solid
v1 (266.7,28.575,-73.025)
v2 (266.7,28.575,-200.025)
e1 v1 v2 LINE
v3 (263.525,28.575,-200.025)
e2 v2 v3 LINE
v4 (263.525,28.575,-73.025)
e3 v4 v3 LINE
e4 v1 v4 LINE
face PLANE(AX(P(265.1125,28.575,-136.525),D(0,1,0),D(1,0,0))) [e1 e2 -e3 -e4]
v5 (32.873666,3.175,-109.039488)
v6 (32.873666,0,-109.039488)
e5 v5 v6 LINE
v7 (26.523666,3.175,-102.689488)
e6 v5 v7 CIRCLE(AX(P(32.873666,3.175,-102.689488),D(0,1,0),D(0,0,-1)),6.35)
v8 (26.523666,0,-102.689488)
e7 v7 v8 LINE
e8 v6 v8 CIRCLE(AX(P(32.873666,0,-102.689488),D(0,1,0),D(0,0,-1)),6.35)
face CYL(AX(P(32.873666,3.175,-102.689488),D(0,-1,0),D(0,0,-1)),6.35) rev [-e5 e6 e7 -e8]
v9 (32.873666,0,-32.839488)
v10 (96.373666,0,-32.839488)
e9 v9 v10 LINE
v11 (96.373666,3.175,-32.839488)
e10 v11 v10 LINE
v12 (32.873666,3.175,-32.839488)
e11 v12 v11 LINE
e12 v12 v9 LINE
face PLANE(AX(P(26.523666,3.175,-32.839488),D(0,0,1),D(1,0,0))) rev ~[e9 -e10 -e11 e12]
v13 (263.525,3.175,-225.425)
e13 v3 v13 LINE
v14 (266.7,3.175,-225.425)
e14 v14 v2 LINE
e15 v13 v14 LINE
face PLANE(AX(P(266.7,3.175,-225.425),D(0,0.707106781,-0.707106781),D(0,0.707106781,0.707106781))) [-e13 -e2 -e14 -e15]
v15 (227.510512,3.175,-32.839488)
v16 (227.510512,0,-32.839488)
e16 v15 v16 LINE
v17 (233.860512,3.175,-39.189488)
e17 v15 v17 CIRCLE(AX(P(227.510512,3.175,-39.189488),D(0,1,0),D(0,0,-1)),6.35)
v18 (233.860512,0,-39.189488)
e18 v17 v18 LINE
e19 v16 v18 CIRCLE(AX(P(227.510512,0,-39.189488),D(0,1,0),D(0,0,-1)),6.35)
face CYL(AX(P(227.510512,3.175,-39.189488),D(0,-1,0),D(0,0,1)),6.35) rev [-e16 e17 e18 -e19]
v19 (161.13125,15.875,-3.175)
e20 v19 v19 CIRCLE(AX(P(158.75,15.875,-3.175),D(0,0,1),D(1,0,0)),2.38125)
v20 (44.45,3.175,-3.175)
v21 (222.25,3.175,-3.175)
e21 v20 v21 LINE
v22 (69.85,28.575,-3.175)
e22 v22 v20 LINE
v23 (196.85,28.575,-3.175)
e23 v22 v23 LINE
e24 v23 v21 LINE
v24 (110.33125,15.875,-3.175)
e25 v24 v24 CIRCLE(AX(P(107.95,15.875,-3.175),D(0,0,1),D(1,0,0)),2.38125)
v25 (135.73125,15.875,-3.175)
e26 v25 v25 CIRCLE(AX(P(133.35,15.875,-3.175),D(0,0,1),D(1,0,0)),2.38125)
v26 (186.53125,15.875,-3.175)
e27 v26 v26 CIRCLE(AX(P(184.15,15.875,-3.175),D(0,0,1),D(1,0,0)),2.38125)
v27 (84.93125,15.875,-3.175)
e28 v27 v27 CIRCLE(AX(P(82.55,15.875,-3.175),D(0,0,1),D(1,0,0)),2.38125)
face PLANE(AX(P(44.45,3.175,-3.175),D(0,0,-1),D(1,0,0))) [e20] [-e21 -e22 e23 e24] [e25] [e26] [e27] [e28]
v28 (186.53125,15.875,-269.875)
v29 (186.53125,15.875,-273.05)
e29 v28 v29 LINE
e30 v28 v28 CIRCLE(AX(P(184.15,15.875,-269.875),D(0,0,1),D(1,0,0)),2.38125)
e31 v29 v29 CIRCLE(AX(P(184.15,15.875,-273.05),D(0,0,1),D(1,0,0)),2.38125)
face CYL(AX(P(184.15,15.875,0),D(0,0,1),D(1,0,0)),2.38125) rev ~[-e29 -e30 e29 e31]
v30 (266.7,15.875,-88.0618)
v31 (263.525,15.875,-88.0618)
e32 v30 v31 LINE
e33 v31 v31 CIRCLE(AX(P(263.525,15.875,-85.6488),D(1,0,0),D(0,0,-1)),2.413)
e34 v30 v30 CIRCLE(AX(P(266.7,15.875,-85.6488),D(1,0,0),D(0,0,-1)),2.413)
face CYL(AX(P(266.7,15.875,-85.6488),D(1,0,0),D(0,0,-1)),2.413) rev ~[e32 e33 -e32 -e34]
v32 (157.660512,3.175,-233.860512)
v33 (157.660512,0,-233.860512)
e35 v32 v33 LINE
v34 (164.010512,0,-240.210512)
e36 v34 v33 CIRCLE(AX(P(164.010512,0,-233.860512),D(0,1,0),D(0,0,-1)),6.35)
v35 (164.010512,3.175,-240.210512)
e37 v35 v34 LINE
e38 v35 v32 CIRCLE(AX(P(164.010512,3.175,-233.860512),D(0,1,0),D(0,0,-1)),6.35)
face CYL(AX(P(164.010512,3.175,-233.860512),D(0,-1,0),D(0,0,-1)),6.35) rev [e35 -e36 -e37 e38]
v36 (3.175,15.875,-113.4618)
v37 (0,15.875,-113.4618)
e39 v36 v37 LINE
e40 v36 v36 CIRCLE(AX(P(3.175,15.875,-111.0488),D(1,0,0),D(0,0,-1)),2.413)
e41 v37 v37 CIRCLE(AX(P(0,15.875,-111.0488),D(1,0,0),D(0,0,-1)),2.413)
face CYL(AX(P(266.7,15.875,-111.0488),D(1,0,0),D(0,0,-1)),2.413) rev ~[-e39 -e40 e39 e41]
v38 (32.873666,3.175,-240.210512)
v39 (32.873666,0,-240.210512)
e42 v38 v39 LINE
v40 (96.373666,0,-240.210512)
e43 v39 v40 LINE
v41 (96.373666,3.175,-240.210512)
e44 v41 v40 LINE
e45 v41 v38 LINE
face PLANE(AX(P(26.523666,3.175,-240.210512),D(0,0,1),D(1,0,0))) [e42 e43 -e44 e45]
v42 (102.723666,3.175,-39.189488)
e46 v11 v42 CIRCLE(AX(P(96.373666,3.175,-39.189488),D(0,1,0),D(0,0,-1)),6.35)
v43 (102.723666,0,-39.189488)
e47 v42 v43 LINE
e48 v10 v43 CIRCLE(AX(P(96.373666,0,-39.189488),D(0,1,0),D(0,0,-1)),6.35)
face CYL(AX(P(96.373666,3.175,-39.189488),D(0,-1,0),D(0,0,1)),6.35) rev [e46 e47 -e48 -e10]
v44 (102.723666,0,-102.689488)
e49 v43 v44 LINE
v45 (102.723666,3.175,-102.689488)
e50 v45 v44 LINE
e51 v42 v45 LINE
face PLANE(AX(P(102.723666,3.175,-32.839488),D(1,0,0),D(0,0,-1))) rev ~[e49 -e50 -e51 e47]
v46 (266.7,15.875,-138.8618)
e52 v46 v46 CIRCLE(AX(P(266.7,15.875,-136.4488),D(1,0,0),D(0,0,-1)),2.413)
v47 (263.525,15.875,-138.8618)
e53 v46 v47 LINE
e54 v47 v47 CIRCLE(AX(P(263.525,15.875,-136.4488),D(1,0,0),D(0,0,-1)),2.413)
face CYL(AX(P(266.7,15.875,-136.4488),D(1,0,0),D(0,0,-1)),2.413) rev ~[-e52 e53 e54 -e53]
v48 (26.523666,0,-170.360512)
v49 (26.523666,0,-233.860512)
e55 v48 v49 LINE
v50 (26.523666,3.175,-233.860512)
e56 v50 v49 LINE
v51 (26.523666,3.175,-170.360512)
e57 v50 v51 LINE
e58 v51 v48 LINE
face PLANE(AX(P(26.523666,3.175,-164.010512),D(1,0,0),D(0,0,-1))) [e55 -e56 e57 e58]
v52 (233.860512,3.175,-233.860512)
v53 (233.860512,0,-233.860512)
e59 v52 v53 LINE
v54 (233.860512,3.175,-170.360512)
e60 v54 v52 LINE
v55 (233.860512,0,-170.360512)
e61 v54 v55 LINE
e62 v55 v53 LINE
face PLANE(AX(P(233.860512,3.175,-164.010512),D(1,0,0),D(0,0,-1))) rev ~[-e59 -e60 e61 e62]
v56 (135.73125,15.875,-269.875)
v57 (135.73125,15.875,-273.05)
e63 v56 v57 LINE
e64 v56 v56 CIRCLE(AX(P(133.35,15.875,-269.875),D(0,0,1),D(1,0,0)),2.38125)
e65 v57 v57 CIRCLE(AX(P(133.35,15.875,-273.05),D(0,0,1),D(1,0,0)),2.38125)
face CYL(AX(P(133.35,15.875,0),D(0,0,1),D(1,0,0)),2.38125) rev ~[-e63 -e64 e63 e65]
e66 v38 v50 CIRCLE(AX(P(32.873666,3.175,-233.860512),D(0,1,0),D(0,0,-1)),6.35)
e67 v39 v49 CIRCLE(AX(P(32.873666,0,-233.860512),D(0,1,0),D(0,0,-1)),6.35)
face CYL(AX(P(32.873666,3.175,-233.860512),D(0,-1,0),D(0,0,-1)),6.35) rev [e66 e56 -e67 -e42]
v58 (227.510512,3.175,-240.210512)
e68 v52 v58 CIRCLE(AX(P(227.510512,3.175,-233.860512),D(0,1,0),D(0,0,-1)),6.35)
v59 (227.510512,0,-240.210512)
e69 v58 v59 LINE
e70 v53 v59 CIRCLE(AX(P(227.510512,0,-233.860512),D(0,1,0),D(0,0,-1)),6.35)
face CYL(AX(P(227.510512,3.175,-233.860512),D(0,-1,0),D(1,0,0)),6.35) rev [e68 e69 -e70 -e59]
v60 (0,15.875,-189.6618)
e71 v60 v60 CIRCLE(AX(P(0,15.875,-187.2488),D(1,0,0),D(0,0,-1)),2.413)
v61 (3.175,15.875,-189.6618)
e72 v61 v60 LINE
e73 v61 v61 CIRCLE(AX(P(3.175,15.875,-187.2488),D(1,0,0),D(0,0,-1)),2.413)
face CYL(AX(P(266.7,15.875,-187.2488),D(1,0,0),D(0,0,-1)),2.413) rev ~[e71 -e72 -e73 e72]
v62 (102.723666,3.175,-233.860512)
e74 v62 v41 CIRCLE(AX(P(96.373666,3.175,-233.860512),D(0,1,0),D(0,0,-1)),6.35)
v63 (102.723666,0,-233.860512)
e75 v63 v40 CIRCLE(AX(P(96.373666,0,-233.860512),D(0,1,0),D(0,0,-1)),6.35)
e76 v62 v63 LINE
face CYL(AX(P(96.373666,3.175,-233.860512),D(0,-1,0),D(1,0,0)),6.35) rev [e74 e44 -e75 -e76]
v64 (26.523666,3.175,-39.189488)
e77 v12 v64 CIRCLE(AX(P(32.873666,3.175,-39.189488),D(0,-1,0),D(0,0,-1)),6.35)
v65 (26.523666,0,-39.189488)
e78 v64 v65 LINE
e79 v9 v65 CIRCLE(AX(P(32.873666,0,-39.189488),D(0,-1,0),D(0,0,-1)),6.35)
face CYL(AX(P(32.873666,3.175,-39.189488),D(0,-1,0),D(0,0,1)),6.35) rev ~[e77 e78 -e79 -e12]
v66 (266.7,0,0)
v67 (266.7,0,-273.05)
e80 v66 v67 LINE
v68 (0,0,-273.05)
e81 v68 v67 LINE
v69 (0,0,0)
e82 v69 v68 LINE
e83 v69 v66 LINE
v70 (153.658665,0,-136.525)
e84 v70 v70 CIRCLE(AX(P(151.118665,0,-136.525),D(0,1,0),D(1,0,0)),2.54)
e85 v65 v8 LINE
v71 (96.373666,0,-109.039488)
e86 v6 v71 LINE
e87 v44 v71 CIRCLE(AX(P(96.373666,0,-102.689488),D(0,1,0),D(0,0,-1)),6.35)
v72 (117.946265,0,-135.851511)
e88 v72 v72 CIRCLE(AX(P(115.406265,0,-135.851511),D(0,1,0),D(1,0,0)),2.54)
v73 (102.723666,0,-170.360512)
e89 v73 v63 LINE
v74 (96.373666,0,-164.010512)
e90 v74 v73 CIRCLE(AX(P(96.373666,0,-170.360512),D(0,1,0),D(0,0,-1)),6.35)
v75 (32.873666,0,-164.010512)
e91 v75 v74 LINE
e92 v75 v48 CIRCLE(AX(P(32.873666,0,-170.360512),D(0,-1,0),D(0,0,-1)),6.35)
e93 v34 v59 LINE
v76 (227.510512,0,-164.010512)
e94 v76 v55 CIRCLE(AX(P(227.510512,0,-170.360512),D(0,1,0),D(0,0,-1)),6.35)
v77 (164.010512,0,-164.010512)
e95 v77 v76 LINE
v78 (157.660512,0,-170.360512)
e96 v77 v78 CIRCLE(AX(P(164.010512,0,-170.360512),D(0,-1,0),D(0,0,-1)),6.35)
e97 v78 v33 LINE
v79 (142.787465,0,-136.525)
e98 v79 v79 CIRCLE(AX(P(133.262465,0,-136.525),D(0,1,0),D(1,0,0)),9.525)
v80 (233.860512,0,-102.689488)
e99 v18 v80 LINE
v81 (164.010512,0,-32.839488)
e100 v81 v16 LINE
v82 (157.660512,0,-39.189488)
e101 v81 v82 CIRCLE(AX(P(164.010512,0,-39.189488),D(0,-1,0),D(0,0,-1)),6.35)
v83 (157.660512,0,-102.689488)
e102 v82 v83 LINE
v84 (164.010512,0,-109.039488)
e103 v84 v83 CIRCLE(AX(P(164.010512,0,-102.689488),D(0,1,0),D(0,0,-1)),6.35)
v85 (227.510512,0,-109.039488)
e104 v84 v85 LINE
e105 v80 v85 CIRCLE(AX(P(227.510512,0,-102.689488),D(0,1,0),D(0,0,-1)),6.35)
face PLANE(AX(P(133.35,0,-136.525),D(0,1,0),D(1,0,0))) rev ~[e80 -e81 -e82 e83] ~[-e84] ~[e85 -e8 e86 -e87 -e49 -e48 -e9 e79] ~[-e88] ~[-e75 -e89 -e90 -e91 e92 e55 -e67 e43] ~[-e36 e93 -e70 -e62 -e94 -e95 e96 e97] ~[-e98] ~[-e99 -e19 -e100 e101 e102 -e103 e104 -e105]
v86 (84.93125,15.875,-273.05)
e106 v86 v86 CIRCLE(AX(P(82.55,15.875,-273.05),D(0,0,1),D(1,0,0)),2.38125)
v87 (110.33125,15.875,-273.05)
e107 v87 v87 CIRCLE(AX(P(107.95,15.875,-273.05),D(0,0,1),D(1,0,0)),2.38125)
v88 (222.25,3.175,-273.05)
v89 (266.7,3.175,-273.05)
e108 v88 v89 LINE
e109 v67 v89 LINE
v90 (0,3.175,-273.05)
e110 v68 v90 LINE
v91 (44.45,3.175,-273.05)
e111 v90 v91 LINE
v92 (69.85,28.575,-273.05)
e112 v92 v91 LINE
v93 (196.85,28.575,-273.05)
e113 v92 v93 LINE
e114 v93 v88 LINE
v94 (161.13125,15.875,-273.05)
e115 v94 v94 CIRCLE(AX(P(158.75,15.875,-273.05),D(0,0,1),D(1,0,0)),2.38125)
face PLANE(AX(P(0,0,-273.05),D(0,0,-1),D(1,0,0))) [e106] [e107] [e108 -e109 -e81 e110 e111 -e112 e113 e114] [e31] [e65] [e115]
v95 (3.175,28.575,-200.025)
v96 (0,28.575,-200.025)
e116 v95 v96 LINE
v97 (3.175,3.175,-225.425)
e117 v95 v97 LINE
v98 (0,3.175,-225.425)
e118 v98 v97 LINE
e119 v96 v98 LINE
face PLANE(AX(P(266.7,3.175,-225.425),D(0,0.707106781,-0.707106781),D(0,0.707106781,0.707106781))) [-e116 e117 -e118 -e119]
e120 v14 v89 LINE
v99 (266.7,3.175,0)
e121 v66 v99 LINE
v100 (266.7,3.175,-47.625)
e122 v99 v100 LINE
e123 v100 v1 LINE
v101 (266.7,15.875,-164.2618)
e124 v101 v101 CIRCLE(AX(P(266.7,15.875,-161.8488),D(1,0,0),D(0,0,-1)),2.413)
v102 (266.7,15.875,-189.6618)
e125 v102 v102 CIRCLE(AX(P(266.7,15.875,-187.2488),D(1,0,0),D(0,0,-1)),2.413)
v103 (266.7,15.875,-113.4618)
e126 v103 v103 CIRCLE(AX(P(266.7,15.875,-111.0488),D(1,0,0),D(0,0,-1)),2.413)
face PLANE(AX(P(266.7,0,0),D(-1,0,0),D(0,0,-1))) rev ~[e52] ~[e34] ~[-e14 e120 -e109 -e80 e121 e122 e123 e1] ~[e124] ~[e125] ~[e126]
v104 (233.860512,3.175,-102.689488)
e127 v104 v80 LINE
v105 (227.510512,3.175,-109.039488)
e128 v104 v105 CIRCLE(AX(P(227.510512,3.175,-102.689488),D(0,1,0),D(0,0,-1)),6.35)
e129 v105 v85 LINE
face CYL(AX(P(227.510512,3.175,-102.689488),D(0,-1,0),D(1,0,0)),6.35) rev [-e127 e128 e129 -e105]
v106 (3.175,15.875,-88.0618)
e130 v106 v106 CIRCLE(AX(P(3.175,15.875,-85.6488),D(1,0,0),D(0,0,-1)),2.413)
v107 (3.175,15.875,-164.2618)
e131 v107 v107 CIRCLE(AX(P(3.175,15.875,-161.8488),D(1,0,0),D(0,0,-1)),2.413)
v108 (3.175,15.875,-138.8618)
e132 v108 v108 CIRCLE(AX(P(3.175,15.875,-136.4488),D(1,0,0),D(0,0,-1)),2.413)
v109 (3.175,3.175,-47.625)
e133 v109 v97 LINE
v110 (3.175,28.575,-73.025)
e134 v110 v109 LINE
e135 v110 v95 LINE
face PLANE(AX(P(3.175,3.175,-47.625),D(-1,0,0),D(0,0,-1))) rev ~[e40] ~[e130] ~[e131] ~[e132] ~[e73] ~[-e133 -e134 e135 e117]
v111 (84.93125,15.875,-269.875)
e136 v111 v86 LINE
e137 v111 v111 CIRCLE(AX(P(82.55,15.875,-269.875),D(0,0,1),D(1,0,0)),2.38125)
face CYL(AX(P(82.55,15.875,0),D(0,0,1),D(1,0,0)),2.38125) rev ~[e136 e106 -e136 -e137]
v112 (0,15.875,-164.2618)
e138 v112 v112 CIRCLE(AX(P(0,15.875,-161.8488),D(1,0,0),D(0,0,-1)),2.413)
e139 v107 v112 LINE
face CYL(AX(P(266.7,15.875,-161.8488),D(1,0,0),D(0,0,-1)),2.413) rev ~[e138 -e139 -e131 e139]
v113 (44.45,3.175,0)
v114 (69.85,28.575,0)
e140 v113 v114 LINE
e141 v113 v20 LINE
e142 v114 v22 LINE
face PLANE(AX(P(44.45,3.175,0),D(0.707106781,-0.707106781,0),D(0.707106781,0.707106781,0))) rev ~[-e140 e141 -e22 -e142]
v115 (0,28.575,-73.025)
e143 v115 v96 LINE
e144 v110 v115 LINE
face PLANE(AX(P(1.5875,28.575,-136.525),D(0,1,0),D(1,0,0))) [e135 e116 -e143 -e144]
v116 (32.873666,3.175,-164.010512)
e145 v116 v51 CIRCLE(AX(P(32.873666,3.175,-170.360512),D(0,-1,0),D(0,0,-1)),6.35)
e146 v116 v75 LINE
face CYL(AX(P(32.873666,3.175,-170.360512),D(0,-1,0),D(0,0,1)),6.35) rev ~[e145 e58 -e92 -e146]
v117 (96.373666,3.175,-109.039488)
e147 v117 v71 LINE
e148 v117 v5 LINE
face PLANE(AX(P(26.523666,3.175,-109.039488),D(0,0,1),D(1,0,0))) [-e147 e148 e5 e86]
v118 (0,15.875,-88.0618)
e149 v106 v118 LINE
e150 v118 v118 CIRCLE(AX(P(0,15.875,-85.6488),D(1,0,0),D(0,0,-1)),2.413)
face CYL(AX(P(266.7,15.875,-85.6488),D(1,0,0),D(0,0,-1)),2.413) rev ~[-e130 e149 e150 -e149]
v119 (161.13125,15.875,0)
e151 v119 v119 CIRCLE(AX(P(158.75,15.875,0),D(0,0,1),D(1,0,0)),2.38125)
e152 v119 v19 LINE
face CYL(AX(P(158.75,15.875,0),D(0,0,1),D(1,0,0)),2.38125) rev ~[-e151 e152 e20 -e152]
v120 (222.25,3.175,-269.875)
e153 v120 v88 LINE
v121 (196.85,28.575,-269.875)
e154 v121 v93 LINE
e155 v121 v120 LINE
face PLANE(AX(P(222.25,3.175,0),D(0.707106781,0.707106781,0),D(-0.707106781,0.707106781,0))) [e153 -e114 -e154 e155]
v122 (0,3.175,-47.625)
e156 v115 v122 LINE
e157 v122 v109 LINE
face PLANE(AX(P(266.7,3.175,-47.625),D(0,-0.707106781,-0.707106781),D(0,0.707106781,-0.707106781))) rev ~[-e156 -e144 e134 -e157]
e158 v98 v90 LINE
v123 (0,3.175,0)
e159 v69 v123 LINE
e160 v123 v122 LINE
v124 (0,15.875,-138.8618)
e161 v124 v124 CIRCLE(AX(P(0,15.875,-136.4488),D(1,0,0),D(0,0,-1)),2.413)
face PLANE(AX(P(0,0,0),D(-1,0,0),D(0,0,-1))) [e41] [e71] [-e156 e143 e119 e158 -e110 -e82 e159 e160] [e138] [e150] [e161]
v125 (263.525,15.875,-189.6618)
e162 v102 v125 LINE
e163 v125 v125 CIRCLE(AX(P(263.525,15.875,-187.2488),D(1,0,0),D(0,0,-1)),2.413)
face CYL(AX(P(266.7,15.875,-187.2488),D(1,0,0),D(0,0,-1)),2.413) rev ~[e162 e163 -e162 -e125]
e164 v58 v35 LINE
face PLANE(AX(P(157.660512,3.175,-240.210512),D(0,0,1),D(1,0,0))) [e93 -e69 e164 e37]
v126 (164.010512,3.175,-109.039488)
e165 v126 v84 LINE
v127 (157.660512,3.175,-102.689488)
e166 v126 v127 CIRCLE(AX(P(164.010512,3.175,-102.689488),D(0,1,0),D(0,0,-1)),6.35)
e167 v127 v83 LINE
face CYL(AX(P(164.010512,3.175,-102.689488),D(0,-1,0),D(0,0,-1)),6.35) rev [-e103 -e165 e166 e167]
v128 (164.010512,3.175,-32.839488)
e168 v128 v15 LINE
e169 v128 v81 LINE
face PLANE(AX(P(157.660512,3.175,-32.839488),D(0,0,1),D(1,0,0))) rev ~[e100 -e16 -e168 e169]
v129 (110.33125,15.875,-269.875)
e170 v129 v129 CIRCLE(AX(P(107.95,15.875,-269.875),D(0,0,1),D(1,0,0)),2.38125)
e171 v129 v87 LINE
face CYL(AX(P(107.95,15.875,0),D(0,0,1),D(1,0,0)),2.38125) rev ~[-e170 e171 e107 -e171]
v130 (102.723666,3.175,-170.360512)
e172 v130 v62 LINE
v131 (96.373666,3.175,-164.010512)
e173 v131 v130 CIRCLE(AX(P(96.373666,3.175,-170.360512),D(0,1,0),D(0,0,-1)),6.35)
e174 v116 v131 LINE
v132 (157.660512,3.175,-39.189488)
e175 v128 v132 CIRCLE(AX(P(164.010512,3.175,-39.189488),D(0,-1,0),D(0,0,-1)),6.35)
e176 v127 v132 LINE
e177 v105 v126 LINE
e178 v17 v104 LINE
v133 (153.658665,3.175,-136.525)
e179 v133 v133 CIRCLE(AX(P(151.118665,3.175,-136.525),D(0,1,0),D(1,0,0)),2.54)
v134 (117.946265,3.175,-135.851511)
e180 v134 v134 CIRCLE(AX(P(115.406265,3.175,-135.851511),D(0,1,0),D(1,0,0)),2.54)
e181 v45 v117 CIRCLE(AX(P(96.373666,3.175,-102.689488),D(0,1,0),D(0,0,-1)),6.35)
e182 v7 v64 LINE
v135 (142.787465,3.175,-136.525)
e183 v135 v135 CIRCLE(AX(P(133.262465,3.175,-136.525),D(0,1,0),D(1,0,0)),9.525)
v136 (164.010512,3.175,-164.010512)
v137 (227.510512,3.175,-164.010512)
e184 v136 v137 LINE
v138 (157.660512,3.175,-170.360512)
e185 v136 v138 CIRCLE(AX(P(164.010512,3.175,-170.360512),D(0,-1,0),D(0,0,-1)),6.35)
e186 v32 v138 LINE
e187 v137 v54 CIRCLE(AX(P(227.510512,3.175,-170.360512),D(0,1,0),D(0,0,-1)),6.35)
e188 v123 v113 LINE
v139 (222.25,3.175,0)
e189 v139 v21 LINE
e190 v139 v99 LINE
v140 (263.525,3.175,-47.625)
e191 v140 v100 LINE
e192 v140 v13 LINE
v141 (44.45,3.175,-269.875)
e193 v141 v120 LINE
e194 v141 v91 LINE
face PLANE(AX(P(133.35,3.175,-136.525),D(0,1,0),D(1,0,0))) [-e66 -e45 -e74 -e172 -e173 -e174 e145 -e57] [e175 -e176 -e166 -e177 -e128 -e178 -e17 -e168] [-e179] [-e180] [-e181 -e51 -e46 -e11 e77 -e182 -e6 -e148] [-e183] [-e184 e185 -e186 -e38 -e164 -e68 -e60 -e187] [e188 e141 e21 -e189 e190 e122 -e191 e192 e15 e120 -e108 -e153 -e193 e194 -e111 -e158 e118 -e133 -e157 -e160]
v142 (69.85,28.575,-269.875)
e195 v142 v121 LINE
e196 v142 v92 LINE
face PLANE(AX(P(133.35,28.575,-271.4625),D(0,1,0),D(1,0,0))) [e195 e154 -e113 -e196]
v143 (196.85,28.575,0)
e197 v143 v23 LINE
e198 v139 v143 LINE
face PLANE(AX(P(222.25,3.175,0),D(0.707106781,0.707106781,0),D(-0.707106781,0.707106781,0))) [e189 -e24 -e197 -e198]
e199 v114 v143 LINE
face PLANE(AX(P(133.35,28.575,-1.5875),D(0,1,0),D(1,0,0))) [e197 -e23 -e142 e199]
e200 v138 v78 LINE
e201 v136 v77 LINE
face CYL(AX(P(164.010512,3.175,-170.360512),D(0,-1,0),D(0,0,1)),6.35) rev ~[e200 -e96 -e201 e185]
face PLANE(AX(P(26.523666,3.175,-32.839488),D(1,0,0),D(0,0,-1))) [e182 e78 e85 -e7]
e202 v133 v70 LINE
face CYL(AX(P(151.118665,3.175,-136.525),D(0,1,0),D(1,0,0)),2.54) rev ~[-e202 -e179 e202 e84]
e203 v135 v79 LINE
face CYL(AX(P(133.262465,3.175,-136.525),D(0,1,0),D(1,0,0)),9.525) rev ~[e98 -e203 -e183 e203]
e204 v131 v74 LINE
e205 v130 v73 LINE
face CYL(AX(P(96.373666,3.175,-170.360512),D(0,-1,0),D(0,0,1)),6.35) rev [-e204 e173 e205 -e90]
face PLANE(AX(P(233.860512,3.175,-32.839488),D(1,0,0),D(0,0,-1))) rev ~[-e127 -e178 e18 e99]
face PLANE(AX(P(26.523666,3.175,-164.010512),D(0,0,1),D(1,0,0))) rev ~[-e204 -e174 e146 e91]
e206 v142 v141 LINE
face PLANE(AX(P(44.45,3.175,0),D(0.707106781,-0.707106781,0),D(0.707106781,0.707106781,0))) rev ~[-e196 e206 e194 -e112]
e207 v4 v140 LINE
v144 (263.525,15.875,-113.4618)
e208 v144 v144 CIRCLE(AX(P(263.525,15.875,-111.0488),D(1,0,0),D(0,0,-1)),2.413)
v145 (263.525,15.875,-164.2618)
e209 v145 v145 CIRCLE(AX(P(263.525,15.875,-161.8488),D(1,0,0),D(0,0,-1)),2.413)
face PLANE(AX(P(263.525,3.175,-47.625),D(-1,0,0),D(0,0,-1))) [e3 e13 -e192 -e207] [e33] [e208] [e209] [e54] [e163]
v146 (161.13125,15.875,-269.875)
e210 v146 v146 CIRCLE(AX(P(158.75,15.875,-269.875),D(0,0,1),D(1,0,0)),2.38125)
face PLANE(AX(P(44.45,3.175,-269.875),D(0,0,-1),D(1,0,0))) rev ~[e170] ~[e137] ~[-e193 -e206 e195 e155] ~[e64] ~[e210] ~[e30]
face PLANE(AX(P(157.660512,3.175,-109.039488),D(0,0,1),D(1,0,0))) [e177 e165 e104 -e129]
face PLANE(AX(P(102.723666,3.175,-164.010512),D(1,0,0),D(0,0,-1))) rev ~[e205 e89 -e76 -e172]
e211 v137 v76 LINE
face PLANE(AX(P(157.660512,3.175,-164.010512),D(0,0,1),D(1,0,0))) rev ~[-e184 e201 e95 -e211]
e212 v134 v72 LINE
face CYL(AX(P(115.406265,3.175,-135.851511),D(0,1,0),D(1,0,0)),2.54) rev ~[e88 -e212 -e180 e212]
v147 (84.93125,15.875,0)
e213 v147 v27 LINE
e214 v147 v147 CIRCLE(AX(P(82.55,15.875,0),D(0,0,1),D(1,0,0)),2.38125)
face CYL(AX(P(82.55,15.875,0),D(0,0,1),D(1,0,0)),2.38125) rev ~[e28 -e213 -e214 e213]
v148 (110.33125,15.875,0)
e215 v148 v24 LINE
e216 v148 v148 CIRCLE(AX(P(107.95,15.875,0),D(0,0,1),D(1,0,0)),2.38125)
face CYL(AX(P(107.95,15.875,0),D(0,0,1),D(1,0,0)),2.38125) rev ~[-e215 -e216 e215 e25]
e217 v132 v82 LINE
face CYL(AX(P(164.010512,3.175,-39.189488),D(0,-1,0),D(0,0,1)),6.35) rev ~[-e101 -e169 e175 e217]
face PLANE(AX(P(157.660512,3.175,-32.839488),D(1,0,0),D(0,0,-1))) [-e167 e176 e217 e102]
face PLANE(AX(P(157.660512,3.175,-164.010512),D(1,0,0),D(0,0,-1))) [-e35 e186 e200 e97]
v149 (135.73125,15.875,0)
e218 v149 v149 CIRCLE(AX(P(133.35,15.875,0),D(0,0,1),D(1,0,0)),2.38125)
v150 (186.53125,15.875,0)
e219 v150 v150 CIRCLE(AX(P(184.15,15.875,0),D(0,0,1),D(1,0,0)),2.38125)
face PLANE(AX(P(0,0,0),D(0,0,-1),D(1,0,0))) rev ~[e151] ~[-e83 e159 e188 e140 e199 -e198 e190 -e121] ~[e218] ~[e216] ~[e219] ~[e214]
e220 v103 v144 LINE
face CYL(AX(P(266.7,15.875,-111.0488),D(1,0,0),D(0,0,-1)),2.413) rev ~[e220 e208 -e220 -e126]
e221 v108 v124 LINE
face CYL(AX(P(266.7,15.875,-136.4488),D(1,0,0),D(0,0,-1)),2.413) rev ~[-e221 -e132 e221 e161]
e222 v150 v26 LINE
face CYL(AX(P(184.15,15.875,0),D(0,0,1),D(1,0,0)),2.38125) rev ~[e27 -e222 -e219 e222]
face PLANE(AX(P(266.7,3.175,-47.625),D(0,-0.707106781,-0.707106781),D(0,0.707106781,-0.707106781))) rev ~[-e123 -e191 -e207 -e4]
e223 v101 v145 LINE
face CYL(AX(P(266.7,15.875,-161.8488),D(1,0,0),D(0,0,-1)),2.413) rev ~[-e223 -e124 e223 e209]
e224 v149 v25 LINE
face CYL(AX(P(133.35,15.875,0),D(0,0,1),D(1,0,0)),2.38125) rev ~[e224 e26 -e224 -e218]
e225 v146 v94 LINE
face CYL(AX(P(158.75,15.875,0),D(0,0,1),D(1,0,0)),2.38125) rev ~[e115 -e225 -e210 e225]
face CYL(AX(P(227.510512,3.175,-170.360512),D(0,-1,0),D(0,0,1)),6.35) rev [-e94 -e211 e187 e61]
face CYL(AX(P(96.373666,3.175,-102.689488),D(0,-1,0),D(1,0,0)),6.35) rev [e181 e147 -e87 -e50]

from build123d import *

# Parameters (mm, degrees)
SKETCH2_W           = 266.7
SKETCH2_H           = 273.05
BOSS_EXTRUDE1_DEPTH = 3.175
SKETCH3_R           = 9.525
CUT_EXTRUDE1_DEPTH  = 4.175
SKETCH4_W           = 76.2
SKETCH4_H           = 76.2
CUT_EXTRUDE2_DEPTH  = 4.175
FILLET2_R           = 6.35
SKETCH5_W           = 177.8
SKETCH5_H           = 3.175
SKETCH5_W_2         = 3.175
SKETCH5_H_2         = 177.8
BOSS_EXTRUDE2_DEPTH = 25.4
CUT_EXTRUDE3_DEPTH  = 267.7
CUT_EXTRUDE4_DEPTH  = 274.05
SKETCH8_R           = 2.54
CUT_EXTRUDE5_DEPTH  = 4.175
SKETCH10_R          = 2.38125
CUT_EXTRUDE6_DEPTH  = 274.05
SKETCH11_R          = 2.413
CUT_EXTRUDE7_DEPTH  = 267.7


with BuildPart() as part:
    # Sketch2 → Boss-Extrude1 (new body)
    with BuildSketch(Plane(origin=(0, 0, 0), x_dir=(1, 0, 0), z_dir=(0, 1, 0))):
        with Locations((133.35, 136.525)):
            Rectangle(SKETCH2_W, SKETCH2_H)
    extrude(amount=BOSS_EXTRUDE1_DEPTH)

    # Sketch3 → Cut-Extrude1 (cut, through all)
    with BuildSketch(Plane(origin=(0, 3.175, 0), x_dir=(1, 0, 0), z_dir=(0, 1, 0))):
        with Locations((133.262465238, 136.525)):
            Circle(SKETCH3_R)
    extrude(amount=-CUT_EXTRUDE1_DEPTH, mode=Mode.SUBTRACT)

    # Sketch4 → Cut-Extrude2 (cut, through all)
    with BuildSketch(Plane(origin=(0, 3.175, 0), x_dir=(1, 0, 0), z_dir=(0, 1, 0))):
        with Locations((64.623665915, 202.110512242)):
            Rectangle(SKETCH4_W, SKETCH4_H)
        with Locations((195.760512242, 202.110512242)):
            Rectangle(SKETCH4_W, SKETCH4_H)
        with Locations((64.623665915, 70.939487758)):
            Rectangle(SKETCH4_W, SKETCH4_H)
        with Locations((195.760512242, 70.939487758)):
            Rectangle(SKETCH4_W, SKETCH4_H)
    extrude(amount=-CUT_EXTRUDE2_DEPTH, mode=Mode.SUBTRACT)

    # Fillet2
    fillet2_edges = [part.edges().sort_by_distance(p)[0] for p in [
        (26.523665915, 1.5875, -164.010512242),
        (26.523665915, 1.5875, -240.210512242),
        (102.723665915, 1.5875, -240.210512242),
        (102.723665915, 1.5875, -164.010512242),
        (157.660512242, 1.5875, -164.010512242),
        (157.660512242, 1.5875, -240.210512242),
        (233.860512242, 1.5875, -240.210512242),
        (233.860512242, 1.5875, -164.010512242),
        (26.523665915, 1.5875, -32.839487758),
        (26.523665915, 1.5875, -109.039487758),
        (102.723665915, 1.5875, -109.039487758),
        (102.723665915, 1.5875, -32.839487758),
        (157.660512242, 1.5875, -32.839487758),
        (157.660512242, 1.5875, -109.039487758),
        (233.860512242, 1.5875, -109.039487758),
        (233.860512242, 1.5875, -32.839487758),
    ]]
    fillet(fillet2_edges, radius=FILLET2_R)

    # Sketch5 → Boss-Extrude2 (add)
    with BuildSketch(Plane(origin=(0, 3.175, 0), x_dir=(1, 0, 0), z_dir=(0, 1, 0))):
        with Locations((133.35, 271.4625)):
            Rectangle(SKETCH5_W, SKETCH5_H)
        with Locations((133.35, 1.5875)):
            Rectangle(SKETCH5_W, SKETCH5_H)
        with Locations((265.1125, 136.525)):
            Rectangle(SKETCH5_W_2, SKETCH5_H_2)
        with Locations((1.5875, 136.525)):
            Rectangle(SKETCH5_W_2, SKETCH5_H_2)
    extrude(amount=BOSS_EXTRUDE2_DEPTH)

    # Sketch6 → Cut-Extrude3 (cut, through all)
    with BuildSketch(Plane(origin=(266.7, 0, 0), x_dir=(0, 0, -1), z_dir=(1, 0, 0))):
        Polygon((47.625, 3.175), (73.025, 28.575), (47.625, 28.575), align=None)
        Polygon((225.425, 3.175), (200.025, 28.575), (225.425, 28.575), align=None)
    extrude(amount=-CUT_EXTRUDE3_DEPTH, mode=Mode.SUBTRACT)

    # Sketch7 → Cut-Extrude4 (cut, through all)
    with BuildSketch(Plane.XY):
        Polygon((44.45, 3.175), (69.85, 28.575), (44.45, 28.575), align=None)
        Polygon((222.25, 3.175), (196.85, 28.575), (222.25, 28.575), align=None)
    extrude(amount=-CUT_EXTRUDE4_DEPTH, mode=Mode.SUBTRACT)

    # Sketch8 → Cut-Extrude5 (cut, through all)
    with BuildSketch(Plane(origin=(0, 3.175, 0), x_dir=(1, 0, 0), z_dir=(0, 1, 0))):
        with Locations((151.118665238, 136.525)):
            Circle(SKETCH8_R)
        with Locations((115.406265238, 135.851510726)):
            Circle(SKETCH8_R)
    extrude(amount=-CUT_EXTRUDE5_DEPTH, mode=Mode.SUBTRACT)

    # Sketch10 → Cut-Extrude6 (cut, through all)
    with BuildSketch(Plane.XY):
        with Locations((133.35, 15.875)):
            Circle(SKETCH10_R)
        with Locations((158.75, 15.875)):
            Circle(SKETCH10_R)
        with Locations((107.95, 15.875)):
            Circle(SKETCH10_R)
        with Locations((82.55, 15.875)):
            Circle(SKETCH10_R)
        with Locations((184.15, 15.875)):
            Circle(SKETCH10_R)
    extrude(amount=-CUT_EXTRUDE6_DEPTH, mode=Mode.SUBTRACT)

    # Sketch11 → Cut-Extrude7 (cut, through all)
    with BuildSketch(Plane(origin=(266.7, 0, 0), x_dir=(0, 0, -1), z_dir=(1, 0, 0))):
        with Locations((136.4488, 15.875)):
            Circle(SKETCH11_R)
        with Locations((111.0488, 15.875)):
            Circle(SKETCH11_R)
        with Locations((85.6488, 15.875)):
            Circle(SKETCH11_R)
        with Locations((161.8488, 15.875)):
            Circle(SKETCH11_R)
        with Locations((187.2488, 15.875)):
            Circle(SKETCH11_R)
    extrude(amount=-CUT_EXTRUDE7_DEPTH, mode=Mode.SUBTRACT)


solid = part.part
